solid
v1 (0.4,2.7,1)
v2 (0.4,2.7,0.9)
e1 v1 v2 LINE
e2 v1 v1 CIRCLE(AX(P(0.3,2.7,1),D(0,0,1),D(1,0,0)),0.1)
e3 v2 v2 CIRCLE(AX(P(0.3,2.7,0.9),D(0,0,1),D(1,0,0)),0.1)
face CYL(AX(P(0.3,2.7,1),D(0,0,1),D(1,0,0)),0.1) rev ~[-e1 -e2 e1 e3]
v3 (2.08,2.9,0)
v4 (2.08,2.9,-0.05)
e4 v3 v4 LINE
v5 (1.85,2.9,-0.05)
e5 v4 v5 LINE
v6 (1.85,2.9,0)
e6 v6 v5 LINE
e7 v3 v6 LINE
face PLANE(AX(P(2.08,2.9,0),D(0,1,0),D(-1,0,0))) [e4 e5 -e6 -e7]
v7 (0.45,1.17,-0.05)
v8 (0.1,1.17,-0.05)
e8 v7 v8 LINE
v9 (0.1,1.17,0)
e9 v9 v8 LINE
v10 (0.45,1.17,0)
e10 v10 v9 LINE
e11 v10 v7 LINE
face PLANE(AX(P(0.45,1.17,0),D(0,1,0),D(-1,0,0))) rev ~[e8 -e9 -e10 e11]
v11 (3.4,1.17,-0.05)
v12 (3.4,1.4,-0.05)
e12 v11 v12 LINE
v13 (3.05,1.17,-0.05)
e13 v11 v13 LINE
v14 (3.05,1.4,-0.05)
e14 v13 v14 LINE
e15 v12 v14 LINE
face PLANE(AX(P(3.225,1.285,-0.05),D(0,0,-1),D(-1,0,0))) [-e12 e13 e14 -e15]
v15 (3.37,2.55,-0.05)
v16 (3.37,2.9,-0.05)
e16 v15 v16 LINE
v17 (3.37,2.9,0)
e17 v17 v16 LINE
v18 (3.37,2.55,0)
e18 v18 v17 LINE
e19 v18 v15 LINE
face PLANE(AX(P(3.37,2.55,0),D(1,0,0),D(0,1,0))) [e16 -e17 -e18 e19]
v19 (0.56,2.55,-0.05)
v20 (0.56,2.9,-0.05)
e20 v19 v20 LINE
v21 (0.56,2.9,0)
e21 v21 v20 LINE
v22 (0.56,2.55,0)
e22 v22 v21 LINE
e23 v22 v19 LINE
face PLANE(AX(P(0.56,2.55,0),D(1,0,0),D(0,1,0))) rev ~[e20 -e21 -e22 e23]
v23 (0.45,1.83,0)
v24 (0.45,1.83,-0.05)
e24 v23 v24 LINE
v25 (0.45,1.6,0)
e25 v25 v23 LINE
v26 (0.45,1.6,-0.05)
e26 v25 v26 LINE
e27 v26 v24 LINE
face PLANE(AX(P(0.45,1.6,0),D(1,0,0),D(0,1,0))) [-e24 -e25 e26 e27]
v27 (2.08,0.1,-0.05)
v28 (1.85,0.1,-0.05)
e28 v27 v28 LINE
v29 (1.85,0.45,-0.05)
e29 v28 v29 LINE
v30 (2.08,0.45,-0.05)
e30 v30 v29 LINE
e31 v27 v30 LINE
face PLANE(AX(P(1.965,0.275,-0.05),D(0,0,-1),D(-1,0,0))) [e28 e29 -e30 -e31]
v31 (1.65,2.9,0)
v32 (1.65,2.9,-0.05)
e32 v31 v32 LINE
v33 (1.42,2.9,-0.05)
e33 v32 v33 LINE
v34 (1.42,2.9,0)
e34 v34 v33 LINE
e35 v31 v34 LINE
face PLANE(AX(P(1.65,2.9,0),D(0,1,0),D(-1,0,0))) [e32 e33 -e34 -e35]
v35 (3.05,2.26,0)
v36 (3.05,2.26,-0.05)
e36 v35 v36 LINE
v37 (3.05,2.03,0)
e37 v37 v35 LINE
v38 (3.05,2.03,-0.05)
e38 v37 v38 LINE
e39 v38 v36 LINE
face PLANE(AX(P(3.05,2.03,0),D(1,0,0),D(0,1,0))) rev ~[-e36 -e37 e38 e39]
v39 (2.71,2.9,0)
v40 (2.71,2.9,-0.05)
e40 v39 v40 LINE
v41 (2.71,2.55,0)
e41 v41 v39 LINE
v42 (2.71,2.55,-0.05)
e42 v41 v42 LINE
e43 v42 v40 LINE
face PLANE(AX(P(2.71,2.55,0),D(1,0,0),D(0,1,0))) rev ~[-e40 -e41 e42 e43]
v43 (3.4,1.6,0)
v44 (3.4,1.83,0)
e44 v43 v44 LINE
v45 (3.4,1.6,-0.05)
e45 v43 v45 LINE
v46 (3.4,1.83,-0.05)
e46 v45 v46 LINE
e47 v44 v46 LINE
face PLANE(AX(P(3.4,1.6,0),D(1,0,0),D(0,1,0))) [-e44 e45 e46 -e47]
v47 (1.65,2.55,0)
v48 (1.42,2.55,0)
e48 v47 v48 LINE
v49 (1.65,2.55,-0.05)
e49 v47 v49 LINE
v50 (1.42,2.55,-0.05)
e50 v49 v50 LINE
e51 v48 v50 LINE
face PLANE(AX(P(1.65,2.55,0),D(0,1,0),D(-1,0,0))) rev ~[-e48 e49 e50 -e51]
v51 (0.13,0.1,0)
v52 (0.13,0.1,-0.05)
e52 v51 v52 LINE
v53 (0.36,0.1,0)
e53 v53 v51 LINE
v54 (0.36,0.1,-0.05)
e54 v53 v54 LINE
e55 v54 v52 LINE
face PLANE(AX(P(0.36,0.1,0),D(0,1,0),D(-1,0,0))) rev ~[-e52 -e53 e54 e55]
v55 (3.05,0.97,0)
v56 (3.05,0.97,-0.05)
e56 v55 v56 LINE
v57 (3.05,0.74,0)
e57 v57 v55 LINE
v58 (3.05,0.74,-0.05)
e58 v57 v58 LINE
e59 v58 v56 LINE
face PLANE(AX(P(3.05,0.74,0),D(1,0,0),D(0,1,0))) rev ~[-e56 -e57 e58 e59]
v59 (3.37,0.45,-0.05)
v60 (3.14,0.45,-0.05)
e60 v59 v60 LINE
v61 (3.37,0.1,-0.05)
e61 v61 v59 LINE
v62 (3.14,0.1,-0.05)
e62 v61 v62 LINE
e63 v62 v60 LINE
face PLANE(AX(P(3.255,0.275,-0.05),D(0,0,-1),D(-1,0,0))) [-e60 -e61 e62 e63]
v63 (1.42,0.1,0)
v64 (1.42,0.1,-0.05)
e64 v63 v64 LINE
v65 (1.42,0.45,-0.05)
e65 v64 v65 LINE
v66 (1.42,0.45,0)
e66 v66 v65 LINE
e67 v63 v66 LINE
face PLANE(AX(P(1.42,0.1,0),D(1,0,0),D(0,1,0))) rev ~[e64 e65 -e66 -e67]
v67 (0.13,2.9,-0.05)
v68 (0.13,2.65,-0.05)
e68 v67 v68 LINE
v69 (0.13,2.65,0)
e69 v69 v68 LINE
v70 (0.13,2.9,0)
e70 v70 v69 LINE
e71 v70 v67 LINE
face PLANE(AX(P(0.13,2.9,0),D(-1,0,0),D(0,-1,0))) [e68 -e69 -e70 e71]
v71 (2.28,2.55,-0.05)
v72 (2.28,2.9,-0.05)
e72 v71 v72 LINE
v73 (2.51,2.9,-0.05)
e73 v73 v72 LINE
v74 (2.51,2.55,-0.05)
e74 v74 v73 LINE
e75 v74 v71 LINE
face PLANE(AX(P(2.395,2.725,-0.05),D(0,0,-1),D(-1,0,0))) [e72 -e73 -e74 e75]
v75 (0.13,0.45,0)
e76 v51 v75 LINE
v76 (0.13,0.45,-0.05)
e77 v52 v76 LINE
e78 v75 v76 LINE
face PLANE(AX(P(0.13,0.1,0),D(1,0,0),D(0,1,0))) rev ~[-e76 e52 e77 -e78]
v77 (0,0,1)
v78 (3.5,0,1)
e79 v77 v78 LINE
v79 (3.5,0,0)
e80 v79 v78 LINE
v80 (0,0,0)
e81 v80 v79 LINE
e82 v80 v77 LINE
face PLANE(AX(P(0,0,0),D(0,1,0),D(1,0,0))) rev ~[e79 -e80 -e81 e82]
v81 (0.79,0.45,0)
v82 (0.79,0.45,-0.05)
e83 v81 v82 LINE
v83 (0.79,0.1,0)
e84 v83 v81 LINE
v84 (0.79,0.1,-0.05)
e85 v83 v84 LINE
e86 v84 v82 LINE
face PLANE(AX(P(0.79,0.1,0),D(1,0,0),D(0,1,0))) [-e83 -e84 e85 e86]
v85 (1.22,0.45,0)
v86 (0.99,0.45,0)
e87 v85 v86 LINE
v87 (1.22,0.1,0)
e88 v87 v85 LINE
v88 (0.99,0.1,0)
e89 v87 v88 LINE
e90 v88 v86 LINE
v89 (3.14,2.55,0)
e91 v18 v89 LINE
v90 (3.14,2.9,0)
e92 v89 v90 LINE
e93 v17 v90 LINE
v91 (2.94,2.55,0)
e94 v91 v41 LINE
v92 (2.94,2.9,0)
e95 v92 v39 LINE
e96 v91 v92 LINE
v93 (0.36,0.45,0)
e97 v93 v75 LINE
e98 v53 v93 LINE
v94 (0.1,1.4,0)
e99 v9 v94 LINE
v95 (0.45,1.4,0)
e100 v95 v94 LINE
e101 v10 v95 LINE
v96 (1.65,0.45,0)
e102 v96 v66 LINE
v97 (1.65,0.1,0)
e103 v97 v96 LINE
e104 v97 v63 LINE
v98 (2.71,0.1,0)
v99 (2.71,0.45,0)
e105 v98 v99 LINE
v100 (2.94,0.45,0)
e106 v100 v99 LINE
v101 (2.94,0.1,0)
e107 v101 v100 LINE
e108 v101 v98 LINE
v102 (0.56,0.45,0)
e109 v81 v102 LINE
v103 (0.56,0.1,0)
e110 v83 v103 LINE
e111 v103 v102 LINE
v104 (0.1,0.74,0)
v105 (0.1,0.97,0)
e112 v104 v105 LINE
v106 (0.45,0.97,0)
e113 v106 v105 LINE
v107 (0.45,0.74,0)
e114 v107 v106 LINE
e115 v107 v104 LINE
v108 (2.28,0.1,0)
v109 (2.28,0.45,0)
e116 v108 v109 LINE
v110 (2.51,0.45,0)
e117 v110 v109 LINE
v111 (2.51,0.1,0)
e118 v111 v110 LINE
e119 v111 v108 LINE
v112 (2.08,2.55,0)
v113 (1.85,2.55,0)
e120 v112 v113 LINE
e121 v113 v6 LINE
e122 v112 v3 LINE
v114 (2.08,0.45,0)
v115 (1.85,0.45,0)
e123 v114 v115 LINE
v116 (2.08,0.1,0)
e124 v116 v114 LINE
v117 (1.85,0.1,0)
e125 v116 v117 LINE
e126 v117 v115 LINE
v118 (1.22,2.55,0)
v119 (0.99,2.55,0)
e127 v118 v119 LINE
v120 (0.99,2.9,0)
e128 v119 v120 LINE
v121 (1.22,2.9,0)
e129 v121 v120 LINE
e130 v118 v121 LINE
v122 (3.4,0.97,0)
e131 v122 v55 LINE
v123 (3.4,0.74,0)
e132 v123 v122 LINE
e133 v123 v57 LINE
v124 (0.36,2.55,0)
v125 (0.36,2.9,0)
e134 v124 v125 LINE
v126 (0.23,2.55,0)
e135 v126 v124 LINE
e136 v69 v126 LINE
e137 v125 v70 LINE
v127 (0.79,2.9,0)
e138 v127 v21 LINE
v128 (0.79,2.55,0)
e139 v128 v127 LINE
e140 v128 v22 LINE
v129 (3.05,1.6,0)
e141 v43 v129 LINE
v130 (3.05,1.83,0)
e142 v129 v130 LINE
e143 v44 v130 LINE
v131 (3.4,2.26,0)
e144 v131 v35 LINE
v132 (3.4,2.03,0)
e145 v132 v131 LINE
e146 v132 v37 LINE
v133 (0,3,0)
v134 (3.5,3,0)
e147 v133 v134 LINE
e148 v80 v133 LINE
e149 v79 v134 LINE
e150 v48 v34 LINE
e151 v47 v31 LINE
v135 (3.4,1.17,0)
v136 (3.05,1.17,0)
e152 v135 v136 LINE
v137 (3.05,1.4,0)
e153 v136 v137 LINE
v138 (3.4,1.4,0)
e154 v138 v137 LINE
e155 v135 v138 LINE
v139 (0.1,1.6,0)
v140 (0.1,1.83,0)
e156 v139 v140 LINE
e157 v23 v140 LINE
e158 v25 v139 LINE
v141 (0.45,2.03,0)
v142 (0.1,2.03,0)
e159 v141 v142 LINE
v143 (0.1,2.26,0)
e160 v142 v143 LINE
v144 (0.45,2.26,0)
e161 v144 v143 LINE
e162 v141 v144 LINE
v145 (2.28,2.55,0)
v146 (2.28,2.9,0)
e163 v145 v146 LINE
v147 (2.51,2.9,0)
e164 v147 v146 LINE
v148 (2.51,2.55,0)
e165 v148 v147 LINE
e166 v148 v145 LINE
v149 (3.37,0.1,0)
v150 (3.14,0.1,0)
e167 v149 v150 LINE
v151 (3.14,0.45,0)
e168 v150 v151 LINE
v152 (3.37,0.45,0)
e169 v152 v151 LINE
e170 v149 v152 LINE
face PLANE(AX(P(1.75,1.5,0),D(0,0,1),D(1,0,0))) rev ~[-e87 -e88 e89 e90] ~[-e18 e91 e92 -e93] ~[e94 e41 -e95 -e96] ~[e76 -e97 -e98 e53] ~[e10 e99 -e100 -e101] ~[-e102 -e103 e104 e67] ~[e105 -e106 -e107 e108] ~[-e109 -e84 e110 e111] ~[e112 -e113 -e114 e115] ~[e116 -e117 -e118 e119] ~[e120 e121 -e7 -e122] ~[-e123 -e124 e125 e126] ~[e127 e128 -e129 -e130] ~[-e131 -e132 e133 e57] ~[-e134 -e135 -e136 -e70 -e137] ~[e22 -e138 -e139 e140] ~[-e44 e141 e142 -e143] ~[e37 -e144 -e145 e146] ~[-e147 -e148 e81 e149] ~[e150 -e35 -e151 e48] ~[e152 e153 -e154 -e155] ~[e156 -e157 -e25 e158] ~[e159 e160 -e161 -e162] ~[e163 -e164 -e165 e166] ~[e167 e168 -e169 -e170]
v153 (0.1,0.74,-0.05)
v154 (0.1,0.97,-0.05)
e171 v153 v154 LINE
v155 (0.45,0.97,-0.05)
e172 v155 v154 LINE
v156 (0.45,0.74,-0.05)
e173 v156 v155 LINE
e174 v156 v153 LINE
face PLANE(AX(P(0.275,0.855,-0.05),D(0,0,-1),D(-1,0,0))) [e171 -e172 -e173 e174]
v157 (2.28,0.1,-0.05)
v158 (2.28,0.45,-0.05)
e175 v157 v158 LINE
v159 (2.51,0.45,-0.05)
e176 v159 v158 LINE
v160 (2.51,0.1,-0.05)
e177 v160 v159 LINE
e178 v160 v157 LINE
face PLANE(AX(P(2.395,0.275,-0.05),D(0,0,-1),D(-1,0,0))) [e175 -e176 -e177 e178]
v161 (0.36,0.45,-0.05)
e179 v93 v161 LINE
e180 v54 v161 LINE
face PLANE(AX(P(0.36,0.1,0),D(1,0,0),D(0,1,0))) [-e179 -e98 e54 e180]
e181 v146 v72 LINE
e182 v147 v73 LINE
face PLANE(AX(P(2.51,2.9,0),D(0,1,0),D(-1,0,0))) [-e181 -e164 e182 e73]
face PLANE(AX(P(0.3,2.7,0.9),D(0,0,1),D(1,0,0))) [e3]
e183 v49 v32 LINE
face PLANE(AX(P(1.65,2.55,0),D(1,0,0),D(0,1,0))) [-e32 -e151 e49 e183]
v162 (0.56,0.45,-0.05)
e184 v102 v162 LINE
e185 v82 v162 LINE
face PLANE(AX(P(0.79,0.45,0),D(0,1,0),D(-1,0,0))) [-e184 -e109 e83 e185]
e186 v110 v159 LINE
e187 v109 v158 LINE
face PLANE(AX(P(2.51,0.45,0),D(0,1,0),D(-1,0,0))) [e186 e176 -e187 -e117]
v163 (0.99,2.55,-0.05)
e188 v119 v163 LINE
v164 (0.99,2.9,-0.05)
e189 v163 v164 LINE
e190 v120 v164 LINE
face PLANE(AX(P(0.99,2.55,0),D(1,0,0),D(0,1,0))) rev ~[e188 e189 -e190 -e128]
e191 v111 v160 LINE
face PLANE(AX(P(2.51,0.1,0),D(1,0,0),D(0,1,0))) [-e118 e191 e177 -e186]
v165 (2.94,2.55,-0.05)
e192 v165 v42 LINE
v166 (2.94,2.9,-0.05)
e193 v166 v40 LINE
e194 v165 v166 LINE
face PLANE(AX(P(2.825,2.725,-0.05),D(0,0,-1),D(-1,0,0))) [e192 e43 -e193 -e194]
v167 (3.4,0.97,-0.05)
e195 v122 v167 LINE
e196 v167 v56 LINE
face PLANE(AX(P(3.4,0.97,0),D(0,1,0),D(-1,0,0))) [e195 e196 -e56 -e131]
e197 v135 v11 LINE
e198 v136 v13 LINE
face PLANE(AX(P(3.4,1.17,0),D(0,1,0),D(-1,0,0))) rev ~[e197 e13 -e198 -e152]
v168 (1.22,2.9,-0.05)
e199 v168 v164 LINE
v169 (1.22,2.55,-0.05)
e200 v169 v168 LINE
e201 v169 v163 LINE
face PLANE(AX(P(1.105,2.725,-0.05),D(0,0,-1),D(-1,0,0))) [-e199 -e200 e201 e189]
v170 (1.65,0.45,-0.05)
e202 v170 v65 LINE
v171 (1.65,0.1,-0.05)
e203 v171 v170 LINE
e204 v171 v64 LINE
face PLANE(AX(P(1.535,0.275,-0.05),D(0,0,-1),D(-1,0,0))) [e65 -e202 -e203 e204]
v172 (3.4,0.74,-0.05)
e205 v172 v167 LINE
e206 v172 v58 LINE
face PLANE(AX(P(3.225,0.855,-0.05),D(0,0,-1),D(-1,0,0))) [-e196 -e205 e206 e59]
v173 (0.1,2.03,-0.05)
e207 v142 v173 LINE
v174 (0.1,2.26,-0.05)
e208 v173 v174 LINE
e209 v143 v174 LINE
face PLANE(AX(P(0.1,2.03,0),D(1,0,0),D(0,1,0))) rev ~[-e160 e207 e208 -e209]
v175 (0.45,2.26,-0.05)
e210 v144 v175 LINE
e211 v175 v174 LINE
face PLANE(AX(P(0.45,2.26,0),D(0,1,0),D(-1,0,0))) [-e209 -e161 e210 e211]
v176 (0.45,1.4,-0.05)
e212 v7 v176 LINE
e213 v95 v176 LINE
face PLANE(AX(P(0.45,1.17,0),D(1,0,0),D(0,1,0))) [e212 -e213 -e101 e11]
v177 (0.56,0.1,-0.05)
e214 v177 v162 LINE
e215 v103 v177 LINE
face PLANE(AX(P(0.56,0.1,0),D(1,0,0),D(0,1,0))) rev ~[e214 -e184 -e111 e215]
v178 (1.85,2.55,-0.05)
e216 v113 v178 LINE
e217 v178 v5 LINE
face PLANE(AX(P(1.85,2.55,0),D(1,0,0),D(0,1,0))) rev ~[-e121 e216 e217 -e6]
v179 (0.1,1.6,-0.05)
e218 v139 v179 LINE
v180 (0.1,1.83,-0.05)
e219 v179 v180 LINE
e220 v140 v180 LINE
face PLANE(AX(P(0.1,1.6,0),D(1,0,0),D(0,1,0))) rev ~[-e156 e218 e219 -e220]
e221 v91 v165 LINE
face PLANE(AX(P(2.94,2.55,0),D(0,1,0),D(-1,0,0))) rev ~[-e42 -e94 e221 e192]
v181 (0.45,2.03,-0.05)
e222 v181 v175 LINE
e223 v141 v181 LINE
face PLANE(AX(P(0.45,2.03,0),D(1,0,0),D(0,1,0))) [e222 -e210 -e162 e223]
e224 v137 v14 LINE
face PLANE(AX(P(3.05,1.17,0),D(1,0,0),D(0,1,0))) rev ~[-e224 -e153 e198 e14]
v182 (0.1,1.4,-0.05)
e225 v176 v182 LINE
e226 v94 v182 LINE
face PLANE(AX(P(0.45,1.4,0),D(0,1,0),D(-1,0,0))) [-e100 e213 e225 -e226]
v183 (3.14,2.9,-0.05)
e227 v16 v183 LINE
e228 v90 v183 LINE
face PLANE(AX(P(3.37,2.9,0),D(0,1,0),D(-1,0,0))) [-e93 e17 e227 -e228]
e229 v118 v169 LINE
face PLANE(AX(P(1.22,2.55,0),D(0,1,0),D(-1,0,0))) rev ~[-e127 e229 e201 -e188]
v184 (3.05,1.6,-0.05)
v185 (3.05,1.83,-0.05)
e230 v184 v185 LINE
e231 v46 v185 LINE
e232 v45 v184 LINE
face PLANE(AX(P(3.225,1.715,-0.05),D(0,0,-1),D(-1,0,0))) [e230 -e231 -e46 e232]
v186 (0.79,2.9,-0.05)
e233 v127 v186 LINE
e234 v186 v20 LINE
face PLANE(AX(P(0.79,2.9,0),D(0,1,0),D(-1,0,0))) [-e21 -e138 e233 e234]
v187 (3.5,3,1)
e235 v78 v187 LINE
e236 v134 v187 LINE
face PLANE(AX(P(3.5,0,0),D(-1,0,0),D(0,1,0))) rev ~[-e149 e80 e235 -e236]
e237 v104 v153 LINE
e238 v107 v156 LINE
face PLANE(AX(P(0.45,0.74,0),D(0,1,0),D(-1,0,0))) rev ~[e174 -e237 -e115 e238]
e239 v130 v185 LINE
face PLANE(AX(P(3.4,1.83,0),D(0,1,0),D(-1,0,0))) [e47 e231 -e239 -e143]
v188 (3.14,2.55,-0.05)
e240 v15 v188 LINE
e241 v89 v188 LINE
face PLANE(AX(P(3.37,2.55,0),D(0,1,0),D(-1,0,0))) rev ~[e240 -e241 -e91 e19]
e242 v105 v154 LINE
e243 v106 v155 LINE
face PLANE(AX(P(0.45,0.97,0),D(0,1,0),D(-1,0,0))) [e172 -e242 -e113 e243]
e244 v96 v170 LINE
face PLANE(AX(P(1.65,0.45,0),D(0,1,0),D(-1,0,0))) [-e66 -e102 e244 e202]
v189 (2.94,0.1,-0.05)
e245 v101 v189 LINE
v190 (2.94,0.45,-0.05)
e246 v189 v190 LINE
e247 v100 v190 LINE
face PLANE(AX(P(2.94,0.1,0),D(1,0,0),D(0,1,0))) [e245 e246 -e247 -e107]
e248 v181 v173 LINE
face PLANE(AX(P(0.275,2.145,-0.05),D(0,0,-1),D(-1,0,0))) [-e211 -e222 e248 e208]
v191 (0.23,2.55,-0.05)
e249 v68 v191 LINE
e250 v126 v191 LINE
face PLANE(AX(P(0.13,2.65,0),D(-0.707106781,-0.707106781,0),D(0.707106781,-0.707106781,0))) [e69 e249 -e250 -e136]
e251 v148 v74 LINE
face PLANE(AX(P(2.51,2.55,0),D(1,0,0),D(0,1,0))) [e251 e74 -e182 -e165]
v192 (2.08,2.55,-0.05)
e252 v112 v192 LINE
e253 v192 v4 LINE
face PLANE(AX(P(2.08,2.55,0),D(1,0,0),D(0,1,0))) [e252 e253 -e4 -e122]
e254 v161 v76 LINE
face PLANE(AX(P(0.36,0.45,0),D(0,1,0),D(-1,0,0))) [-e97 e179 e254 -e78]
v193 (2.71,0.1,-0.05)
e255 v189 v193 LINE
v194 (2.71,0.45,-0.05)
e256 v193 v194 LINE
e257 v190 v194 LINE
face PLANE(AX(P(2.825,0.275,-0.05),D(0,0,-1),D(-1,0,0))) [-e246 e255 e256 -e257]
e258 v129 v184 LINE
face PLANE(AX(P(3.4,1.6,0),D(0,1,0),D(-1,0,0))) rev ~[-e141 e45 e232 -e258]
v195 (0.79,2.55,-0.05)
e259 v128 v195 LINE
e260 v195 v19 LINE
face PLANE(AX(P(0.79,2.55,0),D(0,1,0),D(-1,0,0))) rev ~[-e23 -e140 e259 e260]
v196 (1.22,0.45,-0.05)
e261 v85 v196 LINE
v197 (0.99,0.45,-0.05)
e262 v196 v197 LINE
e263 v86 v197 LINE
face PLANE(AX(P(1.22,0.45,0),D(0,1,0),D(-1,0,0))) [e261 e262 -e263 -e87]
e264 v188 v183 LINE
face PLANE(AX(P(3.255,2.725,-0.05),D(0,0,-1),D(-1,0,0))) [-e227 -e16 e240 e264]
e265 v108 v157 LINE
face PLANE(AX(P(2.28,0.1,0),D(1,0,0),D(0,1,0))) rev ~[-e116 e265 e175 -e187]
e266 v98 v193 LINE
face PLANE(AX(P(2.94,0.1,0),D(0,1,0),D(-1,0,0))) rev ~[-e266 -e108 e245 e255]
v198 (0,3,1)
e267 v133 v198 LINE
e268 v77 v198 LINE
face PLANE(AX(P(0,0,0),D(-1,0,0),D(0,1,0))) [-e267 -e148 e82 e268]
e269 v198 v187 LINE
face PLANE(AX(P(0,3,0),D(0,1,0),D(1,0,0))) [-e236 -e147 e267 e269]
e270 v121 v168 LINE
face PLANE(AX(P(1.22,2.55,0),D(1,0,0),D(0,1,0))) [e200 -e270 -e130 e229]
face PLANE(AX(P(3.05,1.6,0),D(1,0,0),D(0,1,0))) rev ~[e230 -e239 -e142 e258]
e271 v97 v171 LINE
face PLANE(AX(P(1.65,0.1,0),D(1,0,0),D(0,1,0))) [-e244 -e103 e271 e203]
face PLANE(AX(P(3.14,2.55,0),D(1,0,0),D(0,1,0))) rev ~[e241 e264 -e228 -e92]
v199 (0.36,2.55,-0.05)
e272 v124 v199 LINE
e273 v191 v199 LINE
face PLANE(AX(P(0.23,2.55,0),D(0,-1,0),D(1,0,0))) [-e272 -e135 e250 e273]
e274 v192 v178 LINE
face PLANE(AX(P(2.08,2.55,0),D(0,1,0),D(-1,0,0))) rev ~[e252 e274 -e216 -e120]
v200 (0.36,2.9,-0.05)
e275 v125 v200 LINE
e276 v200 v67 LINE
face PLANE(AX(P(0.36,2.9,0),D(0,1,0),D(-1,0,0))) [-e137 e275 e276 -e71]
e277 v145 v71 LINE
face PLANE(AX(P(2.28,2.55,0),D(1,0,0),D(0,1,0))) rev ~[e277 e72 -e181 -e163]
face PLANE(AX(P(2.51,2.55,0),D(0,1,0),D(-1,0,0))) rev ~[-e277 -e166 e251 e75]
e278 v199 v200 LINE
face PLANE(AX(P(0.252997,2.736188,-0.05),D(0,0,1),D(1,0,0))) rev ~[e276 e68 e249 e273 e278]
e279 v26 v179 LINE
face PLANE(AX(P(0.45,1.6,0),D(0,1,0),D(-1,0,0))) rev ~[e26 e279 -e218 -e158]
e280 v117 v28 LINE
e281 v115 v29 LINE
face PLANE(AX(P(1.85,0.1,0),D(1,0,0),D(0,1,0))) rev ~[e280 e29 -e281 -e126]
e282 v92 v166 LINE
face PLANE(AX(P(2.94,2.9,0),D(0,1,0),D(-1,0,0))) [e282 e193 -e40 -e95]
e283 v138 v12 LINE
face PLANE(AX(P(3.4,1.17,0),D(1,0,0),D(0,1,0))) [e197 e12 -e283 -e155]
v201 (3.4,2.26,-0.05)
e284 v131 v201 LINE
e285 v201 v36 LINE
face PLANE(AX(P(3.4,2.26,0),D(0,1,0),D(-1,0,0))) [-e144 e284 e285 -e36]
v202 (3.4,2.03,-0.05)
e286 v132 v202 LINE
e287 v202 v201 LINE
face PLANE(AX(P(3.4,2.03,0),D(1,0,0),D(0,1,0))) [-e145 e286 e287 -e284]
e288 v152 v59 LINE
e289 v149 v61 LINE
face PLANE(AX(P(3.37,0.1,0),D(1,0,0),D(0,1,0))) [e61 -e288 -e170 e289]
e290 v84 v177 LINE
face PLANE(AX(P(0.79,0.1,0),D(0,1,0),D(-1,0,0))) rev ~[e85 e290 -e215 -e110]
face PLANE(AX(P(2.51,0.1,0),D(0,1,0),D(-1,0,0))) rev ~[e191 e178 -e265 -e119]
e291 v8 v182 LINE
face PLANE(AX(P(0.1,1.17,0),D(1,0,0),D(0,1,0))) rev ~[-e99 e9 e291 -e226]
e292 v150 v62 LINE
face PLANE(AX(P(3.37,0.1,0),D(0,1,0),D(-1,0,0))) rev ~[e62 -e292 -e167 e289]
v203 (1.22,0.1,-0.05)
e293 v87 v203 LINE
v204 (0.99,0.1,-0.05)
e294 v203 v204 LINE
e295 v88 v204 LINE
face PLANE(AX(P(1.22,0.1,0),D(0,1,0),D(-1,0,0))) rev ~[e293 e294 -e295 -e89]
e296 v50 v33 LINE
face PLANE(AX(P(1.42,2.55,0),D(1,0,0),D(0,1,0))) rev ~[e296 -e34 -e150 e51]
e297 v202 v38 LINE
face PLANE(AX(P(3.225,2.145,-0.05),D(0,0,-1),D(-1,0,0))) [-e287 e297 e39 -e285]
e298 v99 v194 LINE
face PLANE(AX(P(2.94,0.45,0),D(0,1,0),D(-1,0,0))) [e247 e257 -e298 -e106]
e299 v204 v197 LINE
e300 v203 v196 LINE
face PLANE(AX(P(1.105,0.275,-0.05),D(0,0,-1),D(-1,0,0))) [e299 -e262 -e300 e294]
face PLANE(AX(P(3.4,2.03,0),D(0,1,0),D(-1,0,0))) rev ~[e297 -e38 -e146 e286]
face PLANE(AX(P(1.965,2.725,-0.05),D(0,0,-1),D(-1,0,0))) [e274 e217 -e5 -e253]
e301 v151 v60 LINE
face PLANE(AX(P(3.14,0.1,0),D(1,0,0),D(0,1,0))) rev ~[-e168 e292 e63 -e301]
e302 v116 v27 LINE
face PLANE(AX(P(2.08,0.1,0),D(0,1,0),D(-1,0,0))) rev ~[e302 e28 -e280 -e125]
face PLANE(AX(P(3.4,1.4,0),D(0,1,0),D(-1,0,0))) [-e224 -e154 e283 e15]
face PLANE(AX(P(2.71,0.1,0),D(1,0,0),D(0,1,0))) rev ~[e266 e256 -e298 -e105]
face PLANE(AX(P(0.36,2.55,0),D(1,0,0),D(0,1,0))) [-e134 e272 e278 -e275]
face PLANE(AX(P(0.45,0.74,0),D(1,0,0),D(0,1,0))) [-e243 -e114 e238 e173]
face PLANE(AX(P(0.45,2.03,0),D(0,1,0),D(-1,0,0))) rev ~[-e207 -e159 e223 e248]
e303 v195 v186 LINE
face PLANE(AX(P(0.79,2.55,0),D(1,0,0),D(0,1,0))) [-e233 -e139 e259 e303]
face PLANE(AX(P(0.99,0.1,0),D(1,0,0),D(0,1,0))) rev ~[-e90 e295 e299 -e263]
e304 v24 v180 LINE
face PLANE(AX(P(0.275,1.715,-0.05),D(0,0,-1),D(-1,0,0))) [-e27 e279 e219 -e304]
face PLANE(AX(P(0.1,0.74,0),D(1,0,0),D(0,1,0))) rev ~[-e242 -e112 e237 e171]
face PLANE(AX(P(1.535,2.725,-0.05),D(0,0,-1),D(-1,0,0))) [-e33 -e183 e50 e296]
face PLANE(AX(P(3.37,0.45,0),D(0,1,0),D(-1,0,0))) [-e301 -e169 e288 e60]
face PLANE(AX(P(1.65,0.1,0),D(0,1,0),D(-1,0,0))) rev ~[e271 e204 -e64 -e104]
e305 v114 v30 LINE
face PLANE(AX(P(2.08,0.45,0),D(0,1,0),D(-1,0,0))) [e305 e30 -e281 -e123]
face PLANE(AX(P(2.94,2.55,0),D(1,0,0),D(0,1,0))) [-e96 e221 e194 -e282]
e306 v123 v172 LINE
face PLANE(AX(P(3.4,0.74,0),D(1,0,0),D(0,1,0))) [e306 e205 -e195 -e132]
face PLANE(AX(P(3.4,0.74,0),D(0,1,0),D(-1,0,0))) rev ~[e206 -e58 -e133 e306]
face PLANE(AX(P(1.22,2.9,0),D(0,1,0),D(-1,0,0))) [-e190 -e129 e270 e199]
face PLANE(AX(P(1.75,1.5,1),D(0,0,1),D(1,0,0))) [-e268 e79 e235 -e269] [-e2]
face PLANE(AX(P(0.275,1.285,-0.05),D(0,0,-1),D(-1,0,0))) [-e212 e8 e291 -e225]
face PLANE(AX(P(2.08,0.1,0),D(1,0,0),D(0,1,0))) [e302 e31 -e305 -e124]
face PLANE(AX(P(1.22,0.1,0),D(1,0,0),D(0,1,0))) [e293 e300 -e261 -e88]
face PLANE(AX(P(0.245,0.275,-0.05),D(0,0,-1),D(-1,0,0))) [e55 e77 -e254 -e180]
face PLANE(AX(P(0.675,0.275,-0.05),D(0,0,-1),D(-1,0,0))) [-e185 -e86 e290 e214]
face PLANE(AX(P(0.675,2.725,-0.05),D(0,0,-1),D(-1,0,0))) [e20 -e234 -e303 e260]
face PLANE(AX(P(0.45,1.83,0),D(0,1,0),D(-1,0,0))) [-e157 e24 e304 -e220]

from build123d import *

# Parameters (mm, degrees)
SKETCH1_W           = 3.5
SKETCH1_H           = 3
BOSS_EXTRUDE1_DEPTH = 1
SKETCH2_R           = 0.1
CUT_EXTRUDE1_DEPTH  = 0.1
SKETCH3_W           = 0.23
SKETCH3_H           = 0.35
SKETCH3_W_2         = 0.35
SKETCH3_H_2         = 0.23
BOSS_EXTRUDE2_DEPTH = 0.05


with BuildPart() as part:
    # Sketch1 → Boss-Extrude1 (new body)
    with BuildSketch(Plane.XY):
        with Locations((1.75, 1.5)):
            Rectangle(SKETCH1_W, SKETCH1_H)
    extrude(amount=BOSS_EXTRUDE1_DEPTH)

    # Sketch2 → Cut-Extrude1 (cut)
    with BuildSketch(Plane.XY.offset(1)):
        with Locations((0.3, 2.7)):
            Circle(SKETCH2_R)
    extrude(amount=-CUT_EXTRUDE1_DEPTH, mode=Mode.SUBTRACT)

    # Sketch3 → Boss-Extrude2 (add)
    with BuildSketch(Plane(origin=(0, 0, 0), x_dir=(-1, 0, 0), z_dir=(0, 0, -1))):
        with Locations((-3.255, 2.725)):
            Rectangle(SKETCH3_W, SKETCH3_H)
        with Locations((-2.825, 2.725)):
            Rectangle(SKETCH3_W, SKETCH3_H)
        with Locations((-2.395, 2.725)):
            Rectangle(SKETCH3_W, SKETCH3_H)
        with Locations((-1.965, 2.725)):
            Rectangle(SKETCH3_W, SKETCH3_H)
        with Locations((-1.535, 2.725)):
            Rectangle(SKETCH3_W, SKETCH3_H)
        with Locations((-1.105, 2.725)):
            Rectangle(SKETCH3_W, SKETCH3_H)
        with Locations((-0.675, 2.725)):
            Rectangle(SKETCH3_W, SKETCH3_H)
        Polygon((-0.36, 2.9), (-0.13, 2.9), (-0.13, 2.65), (-0.23, 2.55), (-0.36, 2.55), align=None)
        with Locations((-0.245, 0.275)):
            Rectangle(SKETCH3_W, SKETCH3_H)
        with Locations((-0.675, 0.275)):
            Rectangle(SKETCH3_W, SKETCH3_H)
        with Locations((-1.105, 0.275)):
            Rectangle(SKETCH3_W, SKETCH3_H)
        with Locations((-1.535, 0.275)):
            Rectangle(SKETCH3_W, SKETCH3_H)
        with Locations((-1.965, 0.275)):
            Rectangle(SKETCH3_W, SKETCH3_H)
        with Locations((-2.395, 0.275)):
            Rectangle(SKETCH3_W, SKETCH3_H)
        with Locations((-2.825, 0.275)):
            Rectangle(SKETCH3_W, SKETCH3_H)
        with Locations((-3.255, 0.275)):
            Rectangle(SKETCH3_W, SKETCH3_H)
        with Locations((-3.225, 2.145)):
            Rectangle(SKETCH3_W_2, SKETCH3_H_2)
        with Locations((-3.225, 1.715)):
            Rectangle(SKETCH3_W_2, SKETCH3_H_2)
        with Locations((-3.225, 1.285)):
            Rectangle(SKETCH3_W_2, SKETCH3_H_2)
        with Locations((-3.225, 0.855)):
            Rectangle(SKETCH3_W_2, SKETCH3_H_2)
        with Locations((-0.275, 0.855)):
            Rectangle(SKETCH3_W_2, SKETCH3_H_2)
        with Locations((-0.275, 1.285)):
            Rectangle(SKETCH3_W_2, SKETCH3_H_2)
        with Locations((-0.275, 1.715)):
            Rectangle(SKETCH3_W_2, SKETCH3_H_2)
        with Locations((-0.275, 2.145)):
            Rectangle(SKETCH3_W_2, SKETCH3_H_2)
    extrude(amount=BOSS_EXTRUDE2_DEPTH)


solid = part.part
